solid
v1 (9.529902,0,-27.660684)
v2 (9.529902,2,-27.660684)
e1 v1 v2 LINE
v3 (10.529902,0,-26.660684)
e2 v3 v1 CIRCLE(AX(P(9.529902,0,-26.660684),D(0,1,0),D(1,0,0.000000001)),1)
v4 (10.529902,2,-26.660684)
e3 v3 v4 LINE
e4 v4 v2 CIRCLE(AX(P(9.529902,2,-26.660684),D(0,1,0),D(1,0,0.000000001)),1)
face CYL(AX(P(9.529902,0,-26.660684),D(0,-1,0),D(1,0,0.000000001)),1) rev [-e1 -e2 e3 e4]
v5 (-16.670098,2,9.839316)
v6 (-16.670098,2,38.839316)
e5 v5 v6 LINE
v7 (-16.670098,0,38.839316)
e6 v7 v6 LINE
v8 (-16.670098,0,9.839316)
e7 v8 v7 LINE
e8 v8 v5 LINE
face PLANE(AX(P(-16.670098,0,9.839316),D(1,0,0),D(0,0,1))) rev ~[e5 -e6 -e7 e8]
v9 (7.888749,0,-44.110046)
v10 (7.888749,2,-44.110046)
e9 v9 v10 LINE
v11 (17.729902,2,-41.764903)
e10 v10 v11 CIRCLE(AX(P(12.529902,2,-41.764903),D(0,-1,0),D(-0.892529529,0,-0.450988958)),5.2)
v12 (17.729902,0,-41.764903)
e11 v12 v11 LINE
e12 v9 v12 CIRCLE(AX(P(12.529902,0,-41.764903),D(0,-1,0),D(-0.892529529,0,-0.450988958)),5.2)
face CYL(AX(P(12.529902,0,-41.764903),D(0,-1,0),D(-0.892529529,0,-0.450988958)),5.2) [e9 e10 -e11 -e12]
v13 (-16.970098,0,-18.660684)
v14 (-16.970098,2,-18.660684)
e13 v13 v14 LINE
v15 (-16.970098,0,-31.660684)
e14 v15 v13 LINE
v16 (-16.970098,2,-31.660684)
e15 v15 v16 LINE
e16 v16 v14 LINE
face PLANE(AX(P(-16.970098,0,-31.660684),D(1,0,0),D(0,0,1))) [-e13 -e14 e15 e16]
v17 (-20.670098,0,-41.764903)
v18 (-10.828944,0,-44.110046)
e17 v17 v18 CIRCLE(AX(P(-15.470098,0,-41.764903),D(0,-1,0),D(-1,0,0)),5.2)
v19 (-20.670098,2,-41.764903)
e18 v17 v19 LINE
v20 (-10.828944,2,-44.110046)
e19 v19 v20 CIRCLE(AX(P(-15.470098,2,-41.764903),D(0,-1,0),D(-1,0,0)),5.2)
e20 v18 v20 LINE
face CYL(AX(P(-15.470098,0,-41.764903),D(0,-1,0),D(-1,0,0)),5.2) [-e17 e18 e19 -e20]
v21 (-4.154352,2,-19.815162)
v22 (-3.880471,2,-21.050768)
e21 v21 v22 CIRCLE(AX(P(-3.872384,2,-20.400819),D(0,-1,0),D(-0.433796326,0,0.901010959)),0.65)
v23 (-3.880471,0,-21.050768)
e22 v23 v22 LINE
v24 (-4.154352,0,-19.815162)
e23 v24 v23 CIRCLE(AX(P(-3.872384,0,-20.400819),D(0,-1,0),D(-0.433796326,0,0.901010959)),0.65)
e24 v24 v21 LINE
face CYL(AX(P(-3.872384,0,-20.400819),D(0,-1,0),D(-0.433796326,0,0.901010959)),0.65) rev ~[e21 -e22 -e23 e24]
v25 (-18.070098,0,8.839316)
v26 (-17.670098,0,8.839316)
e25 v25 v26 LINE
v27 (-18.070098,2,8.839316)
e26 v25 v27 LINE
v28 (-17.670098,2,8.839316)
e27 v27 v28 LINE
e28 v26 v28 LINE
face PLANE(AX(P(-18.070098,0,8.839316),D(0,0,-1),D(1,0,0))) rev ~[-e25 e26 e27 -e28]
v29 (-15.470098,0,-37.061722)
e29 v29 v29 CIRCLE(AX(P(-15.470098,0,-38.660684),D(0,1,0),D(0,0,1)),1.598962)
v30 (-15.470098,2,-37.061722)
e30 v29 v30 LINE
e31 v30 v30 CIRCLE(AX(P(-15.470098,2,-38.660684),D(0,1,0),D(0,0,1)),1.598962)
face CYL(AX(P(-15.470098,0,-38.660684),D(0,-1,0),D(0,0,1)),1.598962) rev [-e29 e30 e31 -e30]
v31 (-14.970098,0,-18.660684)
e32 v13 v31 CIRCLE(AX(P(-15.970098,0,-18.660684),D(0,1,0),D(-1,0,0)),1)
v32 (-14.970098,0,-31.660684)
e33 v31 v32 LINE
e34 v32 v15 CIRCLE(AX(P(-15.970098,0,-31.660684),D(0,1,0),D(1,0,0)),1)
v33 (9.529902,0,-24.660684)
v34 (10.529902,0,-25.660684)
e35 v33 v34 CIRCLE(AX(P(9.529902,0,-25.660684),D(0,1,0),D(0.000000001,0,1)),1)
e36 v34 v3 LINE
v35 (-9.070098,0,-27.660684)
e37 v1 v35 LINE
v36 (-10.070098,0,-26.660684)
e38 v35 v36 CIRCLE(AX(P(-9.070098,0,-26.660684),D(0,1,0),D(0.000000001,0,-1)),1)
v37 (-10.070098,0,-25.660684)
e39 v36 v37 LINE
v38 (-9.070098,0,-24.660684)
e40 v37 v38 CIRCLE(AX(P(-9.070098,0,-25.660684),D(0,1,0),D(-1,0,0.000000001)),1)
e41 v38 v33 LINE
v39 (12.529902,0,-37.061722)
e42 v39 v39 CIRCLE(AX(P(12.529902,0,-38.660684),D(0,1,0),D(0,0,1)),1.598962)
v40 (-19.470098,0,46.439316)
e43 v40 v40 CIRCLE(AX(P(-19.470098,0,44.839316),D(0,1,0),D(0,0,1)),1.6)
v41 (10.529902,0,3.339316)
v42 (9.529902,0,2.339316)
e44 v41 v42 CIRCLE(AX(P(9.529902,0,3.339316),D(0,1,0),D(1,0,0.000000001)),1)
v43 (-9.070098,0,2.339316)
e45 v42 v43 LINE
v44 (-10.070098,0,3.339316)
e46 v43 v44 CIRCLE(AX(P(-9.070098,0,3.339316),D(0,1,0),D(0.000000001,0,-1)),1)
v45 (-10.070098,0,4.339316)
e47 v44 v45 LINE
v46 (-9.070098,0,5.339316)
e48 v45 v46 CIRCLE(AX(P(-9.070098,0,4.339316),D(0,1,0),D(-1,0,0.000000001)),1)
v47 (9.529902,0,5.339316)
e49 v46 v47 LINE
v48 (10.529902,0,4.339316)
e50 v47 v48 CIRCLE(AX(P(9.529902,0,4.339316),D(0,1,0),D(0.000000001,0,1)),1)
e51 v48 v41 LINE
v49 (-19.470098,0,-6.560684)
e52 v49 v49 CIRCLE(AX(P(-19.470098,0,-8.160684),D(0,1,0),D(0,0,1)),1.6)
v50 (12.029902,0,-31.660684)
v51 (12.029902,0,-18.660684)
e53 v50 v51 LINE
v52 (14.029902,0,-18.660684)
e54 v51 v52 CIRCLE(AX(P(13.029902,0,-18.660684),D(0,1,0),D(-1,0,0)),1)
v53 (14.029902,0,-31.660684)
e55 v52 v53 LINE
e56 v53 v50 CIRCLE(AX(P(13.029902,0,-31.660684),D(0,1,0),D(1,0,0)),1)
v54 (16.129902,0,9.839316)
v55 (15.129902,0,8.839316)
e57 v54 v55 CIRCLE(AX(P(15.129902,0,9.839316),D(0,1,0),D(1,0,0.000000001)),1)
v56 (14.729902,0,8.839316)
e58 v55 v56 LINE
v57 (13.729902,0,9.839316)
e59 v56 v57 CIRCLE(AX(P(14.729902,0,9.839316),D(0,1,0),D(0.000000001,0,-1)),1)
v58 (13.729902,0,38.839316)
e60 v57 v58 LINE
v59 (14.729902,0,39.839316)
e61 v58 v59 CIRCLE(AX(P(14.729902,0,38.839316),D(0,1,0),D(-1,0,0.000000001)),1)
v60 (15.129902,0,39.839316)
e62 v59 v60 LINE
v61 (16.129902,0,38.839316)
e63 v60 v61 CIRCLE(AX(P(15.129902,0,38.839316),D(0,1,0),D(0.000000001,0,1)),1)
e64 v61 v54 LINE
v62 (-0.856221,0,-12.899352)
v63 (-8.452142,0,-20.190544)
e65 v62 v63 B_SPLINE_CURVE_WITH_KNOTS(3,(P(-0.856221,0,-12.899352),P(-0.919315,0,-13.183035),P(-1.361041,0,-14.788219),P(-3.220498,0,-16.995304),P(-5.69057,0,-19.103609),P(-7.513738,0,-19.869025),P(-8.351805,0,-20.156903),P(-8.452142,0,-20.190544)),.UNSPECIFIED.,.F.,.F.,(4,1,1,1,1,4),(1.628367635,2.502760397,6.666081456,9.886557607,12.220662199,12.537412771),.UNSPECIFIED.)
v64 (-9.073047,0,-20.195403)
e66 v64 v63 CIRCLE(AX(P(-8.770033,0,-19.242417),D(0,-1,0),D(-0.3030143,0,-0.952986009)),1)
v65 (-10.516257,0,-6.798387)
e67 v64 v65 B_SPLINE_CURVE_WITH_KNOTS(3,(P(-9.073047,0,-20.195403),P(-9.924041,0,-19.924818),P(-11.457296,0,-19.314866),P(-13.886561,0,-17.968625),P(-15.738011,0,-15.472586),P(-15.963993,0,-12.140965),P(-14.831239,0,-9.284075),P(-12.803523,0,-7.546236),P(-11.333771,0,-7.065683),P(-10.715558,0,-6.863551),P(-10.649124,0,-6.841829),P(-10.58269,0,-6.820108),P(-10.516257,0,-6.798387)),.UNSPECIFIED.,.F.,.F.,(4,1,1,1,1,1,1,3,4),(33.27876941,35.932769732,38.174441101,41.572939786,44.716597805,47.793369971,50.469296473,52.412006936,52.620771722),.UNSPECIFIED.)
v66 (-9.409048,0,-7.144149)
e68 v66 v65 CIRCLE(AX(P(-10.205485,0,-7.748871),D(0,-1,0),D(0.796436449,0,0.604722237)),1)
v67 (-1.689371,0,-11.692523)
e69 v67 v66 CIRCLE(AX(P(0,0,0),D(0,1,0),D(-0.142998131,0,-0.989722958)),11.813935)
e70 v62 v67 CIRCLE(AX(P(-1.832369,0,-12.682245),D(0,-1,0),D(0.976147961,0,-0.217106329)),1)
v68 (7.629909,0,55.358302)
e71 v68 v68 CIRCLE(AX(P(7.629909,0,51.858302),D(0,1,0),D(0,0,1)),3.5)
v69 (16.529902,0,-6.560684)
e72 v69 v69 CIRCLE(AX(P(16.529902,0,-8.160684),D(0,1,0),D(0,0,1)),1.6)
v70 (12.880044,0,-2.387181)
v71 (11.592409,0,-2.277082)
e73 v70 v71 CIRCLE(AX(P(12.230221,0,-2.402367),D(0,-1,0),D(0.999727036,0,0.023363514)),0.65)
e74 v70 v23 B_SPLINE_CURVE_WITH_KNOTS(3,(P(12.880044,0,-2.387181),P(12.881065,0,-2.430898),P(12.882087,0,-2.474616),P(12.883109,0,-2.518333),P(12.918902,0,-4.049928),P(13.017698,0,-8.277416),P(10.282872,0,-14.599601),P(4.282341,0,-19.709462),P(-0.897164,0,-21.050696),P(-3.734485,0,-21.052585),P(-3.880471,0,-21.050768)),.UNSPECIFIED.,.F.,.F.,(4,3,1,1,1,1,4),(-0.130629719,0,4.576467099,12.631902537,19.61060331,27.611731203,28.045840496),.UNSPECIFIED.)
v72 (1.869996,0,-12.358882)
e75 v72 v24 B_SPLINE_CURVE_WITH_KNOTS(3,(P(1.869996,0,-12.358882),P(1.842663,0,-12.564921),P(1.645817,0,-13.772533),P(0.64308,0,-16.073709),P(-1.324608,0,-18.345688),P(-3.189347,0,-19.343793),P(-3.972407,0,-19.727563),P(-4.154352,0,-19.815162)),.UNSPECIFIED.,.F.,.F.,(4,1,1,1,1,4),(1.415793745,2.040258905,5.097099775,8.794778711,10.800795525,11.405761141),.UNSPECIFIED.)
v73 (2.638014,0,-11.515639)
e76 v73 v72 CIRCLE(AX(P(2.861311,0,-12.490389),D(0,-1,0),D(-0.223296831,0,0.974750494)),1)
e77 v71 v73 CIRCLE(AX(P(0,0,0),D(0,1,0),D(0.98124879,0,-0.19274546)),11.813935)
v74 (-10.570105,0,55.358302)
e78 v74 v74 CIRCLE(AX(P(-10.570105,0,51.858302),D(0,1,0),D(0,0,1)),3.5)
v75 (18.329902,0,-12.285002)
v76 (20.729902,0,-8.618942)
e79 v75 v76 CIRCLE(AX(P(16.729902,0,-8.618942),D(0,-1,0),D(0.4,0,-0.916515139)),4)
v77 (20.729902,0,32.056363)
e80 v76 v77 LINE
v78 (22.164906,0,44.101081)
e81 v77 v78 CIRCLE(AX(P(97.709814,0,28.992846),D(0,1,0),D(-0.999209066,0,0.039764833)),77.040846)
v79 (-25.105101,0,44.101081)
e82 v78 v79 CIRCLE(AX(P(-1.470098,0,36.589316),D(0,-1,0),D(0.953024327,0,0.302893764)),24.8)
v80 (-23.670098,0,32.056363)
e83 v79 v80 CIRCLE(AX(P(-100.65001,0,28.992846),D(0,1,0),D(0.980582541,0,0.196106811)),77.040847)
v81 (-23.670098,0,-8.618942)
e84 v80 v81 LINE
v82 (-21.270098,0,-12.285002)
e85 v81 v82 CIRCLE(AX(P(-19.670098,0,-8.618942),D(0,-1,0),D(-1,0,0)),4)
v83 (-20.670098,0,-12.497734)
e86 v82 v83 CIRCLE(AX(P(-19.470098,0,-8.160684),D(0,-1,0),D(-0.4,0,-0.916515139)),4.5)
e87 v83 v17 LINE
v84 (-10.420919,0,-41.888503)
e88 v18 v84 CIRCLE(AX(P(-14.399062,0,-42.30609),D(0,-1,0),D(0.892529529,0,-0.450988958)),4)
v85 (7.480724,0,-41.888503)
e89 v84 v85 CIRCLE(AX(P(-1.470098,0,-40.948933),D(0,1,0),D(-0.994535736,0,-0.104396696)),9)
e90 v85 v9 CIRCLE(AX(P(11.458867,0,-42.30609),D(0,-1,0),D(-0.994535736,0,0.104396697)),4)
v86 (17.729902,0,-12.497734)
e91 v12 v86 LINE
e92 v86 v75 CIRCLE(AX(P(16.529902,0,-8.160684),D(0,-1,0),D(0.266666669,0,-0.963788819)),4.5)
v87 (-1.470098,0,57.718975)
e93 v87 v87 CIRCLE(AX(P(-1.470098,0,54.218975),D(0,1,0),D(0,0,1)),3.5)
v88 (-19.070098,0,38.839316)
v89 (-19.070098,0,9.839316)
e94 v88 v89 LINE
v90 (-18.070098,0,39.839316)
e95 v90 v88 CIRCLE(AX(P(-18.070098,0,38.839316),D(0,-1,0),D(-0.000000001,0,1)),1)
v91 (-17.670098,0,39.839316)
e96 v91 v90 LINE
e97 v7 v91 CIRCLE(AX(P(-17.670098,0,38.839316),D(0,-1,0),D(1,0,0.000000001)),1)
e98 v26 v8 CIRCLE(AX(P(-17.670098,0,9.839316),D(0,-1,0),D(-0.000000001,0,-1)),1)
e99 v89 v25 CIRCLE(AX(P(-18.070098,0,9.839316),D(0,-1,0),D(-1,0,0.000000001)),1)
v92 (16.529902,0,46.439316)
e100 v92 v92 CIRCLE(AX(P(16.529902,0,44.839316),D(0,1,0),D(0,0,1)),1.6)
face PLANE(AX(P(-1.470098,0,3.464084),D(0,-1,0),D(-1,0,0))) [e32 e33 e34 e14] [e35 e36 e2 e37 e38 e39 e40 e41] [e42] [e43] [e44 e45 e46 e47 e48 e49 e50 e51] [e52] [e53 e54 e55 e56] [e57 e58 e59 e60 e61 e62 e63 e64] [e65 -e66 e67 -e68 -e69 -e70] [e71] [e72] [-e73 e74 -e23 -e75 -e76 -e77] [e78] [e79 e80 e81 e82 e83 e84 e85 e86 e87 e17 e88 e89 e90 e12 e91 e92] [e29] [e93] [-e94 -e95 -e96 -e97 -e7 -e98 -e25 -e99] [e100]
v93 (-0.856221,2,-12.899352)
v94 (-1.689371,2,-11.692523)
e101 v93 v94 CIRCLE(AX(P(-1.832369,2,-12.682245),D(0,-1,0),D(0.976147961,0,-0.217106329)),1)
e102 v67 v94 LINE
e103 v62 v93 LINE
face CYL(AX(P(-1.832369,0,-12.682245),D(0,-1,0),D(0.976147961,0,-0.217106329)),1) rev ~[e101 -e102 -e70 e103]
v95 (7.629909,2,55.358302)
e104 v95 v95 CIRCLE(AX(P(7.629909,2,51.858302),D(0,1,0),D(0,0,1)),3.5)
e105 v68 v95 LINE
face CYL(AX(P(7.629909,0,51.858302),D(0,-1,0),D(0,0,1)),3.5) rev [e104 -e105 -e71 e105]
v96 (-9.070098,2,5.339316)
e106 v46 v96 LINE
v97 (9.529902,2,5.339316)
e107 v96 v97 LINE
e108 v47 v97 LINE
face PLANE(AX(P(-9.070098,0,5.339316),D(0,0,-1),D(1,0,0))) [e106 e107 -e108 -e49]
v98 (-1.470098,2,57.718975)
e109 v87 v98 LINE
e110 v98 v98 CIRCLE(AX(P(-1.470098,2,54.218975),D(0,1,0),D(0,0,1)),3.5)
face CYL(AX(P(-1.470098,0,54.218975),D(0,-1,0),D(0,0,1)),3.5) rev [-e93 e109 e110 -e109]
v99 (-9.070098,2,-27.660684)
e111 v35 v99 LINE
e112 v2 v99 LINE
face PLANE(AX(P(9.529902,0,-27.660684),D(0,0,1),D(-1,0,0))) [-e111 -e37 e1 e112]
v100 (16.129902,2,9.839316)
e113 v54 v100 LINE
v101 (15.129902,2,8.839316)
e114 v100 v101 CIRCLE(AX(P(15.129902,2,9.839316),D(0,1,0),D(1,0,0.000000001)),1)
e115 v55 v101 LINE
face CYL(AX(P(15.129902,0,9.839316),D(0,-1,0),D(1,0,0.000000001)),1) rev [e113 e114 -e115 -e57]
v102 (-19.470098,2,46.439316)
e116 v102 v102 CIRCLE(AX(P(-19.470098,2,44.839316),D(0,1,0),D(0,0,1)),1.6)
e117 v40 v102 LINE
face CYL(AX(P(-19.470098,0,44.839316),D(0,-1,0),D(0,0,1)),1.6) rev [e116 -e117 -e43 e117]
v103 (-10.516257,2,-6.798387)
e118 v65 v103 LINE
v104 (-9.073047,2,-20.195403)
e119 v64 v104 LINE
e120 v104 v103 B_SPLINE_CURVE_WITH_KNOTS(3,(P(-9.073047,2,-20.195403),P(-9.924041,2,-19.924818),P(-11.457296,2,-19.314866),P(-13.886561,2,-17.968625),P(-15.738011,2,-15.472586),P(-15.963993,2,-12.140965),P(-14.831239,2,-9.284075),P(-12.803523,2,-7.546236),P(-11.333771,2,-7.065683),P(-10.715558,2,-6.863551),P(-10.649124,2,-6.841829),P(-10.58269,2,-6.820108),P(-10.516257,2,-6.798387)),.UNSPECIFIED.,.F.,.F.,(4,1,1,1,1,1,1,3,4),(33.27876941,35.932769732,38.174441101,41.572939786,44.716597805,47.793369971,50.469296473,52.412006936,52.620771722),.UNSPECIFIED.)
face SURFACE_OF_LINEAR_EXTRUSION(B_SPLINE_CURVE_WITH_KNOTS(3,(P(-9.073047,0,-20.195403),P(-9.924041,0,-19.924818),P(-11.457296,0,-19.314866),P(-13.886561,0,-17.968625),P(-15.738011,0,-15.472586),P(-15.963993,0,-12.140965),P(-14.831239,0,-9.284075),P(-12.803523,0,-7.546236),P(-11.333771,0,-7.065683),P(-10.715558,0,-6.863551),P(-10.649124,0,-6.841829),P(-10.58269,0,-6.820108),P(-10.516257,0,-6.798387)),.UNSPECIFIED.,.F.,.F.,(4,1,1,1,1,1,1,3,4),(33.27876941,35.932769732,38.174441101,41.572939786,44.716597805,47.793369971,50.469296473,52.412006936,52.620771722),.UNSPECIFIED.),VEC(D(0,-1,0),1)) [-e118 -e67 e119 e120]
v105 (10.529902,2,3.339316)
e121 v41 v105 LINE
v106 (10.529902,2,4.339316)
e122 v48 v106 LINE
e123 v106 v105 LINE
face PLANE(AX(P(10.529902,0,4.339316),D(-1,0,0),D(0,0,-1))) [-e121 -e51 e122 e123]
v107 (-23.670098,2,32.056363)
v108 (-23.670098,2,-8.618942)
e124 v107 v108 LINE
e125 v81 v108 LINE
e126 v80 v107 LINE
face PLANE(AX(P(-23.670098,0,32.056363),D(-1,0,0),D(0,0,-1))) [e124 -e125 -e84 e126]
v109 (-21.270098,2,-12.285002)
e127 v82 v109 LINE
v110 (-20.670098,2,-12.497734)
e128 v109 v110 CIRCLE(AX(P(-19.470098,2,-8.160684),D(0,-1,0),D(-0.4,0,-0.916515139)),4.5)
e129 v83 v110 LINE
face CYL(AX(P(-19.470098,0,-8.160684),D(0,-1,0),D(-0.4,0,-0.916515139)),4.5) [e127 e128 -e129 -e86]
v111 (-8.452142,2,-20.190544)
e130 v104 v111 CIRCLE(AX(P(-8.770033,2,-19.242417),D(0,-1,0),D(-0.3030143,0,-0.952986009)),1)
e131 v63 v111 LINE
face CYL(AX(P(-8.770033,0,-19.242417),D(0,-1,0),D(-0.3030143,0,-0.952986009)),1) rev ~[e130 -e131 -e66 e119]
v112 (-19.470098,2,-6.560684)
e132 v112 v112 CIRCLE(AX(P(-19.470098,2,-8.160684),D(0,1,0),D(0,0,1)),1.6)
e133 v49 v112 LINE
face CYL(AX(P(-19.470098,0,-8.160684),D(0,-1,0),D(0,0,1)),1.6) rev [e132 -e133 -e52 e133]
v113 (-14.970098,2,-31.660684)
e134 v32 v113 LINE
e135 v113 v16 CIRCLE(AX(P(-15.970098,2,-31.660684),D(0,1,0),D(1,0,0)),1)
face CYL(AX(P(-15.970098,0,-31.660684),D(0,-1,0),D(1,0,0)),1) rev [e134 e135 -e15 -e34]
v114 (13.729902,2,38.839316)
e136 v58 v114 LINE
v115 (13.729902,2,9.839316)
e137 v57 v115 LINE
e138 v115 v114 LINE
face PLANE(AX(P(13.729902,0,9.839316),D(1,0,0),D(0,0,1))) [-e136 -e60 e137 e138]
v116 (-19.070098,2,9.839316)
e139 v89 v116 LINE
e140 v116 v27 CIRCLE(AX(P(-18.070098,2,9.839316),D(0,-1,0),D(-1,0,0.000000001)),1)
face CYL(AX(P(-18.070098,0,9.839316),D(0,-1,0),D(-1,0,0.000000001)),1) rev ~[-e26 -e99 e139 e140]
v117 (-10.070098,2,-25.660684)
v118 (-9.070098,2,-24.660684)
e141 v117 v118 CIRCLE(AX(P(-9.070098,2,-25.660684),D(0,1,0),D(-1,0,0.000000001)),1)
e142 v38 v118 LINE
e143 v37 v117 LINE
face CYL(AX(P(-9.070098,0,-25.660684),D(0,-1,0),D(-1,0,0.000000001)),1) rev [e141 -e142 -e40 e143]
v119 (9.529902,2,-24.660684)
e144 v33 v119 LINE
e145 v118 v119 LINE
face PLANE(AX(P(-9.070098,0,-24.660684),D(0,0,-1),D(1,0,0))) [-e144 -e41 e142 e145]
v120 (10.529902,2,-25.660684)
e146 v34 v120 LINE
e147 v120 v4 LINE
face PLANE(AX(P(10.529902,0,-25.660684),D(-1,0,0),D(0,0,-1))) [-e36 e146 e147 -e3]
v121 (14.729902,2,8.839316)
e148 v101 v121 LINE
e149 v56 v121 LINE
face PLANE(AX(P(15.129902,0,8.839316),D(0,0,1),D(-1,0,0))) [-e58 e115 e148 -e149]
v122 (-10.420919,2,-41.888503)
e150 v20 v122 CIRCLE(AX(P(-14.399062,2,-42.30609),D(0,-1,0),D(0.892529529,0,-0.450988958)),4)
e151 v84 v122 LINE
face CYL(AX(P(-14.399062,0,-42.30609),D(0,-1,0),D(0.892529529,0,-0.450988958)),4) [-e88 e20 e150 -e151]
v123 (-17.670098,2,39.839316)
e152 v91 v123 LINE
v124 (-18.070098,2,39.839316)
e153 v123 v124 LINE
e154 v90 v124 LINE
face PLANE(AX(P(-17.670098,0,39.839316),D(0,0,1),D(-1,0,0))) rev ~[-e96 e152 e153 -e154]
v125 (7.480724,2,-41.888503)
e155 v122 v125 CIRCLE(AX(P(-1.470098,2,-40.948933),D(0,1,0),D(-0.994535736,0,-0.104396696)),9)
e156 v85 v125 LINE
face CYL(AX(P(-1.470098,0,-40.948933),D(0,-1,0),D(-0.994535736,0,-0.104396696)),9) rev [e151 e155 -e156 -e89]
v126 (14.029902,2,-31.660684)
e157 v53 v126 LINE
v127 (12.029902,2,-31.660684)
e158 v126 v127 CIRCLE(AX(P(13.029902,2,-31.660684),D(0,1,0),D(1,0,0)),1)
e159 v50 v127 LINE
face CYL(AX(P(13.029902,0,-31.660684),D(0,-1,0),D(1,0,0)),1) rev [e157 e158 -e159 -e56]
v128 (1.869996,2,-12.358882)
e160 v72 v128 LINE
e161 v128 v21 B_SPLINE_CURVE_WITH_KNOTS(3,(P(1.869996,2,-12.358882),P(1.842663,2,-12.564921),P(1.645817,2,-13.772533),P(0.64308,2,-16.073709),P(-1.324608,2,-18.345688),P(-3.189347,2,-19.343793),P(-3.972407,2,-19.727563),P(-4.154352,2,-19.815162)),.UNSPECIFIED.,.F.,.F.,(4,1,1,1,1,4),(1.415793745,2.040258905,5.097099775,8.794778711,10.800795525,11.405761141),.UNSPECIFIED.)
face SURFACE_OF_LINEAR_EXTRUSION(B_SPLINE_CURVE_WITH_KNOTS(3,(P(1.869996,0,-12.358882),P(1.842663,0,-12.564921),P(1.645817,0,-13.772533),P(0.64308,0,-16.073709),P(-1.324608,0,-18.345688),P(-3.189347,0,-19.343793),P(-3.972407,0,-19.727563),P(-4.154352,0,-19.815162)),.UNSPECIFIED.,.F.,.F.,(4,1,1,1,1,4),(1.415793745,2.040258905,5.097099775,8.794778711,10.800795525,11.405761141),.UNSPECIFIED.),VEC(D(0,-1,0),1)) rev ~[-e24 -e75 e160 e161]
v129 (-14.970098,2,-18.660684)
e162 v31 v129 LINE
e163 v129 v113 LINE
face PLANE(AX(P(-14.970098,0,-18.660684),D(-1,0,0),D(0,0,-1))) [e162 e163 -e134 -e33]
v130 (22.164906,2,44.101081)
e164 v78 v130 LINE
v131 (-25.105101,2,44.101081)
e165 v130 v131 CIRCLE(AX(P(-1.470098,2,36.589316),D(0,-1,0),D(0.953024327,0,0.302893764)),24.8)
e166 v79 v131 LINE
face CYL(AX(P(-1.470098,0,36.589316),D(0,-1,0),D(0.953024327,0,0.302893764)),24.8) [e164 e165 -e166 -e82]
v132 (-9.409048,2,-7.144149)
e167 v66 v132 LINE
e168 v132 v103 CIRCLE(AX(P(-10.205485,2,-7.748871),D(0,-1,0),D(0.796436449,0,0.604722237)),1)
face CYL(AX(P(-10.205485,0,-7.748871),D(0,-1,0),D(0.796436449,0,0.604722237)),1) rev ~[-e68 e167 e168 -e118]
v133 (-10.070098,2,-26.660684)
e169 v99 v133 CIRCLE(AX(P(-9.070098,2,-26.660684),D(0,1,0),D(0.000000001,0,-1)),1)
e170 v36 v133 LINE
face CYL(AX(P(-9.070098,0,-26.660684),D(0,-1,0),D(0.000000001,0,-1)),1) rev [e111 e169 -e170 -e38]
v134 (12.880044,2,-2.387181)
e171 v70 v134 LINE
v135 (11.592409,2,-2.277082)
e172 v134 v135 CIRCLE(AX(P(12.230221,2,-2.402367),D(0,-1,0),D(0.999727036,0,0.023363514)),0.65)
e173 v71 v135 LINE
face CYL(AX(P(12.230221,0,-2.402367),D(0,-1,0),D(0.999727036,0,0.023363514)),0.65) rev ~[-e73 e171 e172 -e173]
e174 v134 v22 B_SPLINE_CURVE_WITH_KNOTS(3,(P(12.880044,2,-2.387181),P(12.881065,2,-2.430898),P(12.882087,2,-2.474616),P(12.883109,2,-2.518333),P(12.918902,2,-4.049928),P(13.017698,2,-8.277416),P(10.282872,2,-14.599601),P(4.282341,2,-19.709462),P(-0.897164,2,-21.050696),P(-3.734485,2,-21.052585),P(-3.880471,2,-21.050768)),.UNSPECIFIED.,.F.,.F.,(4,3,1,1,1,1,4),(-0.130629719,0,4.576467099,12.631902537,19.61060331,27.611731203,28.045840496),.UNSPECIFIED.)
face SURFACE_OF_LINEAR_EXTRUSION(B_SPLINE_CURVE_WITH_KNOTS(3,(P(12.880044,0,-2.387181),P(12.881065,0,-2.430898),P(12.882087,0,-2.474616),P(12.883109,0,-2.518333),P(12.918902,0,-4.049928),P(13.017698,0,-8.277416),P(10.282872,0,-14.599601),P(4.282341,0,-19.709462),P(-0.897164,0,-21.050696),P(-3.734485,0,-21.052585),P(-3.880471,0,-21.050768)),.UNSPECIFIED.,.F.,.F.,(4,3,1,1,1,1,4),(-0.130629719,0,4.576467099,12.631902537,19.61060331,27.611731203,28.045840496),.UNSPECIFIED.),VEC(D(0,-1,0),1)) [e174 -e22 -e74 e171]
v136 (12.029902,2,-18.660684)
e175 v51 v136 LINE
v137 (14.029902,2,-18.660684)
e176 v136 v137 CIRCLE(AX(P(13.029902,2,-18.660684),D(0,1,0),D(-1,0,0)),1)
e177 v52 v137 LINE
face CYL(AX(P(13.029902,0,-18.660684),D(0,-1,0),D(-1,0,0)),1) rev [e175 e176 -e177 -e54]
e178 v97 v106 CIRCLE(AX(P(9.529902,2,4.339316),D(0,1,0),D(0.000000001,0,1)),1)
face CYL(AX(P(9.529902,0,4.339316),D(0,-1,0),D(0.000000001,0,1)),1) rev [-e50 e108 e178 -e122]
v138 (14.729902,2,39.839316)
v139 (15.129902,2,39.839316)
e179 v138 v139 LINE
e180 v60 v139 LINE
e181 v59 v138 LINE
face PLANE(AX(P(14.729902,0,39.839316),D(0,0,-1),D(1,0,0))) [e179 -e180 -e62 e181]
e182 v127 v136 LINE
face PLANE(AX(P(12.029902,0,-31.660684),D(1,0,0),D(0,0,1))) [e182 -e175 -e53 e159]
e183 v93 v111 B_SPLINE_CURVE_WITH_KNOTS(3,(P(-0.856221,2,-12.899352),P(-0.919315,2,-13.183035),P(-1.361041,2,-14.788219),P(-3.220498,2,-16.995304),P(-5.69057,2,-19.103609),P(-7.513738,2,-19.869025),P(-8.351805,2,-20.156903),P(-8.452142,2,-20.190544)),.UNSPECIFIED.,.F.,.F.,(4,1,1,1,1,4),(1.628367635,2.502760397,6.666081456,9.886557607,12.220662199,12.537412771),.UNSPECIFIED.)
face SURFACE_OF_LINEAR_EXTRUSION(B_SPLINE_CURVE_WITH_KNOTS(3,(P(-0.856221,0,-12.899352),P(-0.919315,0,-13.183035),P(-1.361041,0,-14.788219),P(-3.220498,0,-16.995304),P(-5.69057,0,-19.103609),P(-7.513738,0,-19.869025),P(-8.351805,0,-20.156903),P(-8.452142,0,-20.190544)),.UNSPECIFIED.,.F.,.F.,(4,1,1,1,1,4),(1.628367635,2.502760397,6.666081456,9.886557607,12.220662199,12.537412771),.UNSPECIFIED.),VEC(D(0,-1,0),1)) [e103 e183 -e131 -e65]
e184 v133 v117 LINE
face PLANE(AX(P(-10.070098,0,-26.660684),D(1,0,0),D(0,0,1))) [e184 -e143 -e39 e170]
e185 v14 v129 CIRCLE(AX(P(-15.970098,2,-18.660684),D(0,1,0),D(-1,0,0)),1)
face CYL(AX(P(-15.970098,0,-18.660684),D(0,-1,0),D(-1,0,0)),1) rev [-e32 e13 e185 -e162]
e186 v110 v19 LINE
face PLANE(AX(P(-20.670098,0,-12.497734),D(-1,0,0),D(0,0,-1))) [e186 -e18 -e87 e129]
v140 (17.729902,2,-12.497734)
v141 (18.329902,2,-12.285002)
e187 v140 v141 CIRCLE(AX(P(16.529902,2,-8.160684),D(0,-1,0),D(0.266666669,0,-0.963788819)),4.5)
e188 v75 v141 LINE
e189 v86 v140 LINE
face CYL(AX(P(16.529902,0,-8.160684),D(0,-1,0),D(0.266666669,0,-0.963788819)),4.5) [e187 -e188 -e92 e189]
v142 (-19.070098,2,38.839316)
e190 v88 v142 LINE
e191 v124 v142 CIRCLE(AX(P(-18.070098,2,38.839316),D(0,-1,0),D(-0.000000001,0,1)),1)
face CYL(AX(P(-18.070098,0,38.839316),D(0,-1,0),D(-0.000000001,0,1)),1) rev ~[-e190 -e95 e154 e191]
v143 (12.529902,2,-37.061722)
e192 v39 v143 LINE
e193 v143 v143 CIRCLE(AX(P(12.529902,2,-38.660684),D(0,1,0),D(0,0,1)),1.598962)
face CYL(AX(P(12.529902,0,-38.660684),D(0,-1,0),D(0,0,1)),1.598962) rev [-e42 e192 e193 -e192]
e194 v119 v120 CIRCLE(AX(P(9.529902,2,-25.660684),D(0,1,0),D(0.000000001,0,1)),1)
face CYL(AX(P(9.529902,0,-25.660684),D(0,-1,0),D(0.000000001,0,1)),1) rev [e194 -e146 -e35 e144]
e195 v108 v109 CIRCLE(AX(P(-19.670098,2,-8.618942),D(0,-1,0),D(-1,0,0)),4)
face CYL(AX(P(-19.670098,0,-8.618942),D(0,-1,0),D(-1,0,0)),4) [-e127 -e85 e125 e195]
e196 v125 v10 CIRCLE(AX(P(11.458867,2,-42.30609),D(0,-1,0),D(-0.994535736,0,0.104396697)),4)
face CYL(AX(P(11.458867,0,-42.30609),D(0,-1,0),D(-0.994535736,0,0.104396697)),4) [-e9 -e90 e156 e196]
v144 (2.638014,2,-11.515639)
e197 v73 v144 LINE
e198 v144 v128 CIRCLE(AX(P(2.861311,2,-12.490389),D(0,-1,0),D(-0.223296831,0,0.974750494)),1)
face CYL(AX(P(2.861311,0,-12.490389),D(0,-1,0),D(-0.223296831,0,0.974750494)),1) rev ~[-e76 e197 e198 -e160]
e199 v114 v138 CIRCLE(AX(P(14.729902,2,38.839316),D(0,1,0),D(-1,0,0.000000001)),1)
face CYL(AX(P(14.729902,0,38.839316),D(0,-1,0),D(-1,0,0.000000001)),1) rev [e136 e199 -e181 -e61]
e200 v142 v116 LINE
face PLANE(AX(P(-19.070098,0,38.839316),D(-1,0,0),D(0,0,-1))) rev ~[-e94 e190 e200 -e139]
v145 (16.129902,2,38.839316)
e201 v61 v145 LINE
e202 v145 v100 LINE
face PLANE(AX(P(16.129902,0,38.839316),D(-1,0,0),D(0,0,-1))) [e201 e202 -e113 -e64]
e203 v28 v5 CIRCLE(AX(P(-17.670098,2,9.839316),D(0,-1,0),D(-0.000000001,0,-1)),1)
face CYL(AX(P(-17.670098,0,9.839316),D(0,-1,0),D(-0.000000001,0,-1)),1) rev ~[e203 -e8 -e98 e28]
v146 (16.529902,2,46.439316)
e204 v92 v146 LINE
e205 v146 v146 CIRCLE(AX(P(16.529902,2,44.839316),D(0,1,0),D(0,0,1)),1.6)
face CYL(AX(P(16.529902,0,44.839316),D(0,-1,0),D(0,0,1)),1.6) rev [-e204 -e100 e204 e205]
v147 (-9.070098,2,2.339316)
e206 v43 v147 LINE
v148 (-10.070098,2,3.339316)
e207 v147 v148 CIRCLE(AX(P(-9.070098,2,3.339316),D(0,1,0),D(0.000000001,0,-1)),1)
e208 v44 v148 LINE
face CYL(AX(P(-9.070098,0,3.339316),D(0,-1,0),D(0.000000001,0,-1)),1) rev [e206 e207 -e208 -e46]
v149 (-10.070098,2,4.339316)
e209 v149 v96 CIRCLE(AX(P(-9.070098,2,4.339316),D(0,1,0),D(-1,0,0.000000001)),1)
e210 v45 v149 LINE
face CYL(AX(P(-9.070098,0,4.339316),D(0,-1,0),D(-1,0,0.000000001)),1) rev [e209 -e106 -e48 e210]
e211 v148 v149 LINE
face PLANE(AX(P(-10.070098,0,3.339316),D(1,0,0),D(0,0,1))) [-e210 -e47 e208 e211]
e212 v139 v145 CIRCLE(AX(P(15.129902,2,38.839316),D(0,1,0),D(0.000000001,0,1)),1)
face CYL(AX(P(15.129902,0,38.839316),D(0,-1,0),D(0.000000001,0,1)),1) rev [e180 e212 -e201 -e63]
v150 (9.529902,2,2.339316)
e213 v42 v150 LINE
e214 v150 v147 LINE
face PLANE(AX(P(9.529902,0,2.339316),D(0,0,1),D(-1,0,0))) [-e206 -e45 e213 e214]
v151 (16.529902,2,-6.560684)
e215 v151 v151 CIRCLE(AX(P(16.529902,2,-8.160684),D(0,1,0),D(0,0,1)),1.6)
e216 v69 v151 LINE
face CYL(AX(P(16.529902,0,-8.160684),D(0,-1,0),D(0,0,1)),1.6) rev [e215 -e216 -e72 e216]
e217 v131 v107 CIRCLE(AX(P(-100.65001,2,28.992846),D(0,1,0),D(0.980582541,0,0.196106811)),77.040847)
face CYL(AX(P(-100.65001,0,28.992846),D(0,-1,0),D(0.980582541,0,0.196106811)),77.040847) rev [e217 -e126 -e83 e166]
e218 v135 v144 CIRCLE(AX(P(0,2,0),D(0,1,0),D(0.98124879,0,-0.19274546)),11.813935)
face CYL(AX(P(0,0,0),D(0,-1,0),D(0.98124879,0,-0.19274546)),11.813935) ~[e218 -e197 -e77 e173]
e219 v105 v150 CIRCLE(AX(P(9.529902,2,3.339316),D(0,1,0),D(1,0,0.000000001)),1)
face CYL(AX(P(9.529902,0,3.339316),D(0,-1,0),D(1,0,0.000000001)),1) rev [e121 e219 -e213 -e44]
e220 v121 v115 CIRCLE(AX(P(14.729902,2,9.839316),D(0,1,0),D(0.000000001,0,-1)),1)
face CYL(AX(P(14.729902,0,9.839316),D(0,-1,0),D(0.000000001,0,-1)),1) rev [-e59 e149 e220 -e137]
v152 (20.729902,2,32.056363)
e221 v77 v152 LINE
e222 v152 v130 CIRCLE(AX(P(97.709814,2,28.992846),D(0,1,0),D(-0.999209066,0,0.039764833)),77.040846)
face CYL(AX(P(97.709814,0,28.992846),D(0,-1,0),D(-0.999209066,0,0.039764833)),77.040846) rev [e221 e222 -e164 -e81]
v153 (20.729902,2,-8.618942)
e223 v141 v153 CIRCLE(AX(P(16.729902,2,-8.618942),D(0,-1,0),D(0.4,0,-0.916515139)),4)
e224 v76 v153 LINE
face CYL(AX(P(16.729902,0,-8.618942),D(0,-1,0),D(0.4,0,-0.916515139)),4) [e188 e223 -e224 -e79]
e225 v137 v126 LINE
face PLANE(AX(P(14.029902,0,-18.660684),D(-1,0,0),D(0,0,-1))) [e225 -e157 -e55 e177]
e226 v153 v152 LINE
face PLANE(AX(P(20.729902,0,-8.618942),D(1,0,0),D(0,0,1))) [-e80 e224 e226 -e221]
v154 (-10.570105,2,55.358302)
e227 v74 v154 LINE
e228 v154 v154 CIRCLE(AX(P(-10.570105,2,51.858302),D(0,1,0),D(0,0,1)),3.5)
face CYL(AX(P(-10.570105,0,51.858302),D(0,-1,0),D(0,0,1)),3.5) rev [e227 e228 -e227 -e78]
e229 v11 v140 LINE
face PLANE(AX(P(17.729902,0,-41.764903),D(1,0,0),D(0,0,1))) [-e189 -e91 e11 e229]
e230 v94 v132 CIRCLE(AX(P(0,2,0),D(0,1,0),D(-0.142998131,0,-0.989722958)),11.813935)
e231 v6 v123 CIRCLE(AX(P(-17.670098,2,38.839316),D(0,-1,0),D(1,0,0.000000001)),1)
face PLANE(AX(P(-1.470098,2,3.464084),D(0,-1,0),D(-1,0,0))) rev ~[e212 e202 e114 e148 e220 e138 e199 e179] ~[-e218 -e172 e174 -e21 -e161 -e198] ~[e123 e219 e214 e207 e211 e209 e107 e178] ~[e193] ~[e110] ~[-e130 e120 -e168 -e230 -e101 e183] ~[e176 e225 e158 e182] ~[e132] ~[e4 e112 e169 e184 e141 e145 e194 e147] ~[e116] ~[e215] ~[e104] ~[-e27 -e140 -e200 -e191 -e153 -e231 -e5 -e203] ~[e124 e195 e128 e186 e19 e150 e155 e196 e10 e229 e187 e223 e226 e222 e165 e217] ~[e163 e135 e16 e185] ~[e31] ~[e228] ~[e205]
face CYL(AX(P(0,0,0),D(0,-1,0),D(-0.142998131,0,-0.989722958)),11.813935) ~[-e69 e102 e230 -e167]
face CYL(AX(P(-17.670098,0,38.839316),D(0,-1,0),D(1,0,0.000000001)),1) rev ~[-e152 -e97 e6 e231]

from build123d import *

# Parameters (mm, degrees)
SKETCH2_R           = 3.5
SKETCH2_R_2         = 1.6
SKETCH2_R_3         = 1.598962018
BOSS_EXTRUDE1_DEPTH = 2


with BuildPart() as part:
    # Sketch2 → Boss-Extrude1 (new body)
    with BuildSketch(Plane(origin=(0, 0, 0), x_dir=(1, 0, 0), z_dir=(0, 1, 0))):
        with BuildLine():
            Line((-23.670097795, -32.056362812), (-23.670097795, 8.618941775))
            ThreePointArc((-23.670097795, 8.618941775), (-23.016737901, 10.809832005), (-21.270097795, 12.285002331))
            ThreePointArc((-21.270097795, 12.285002331), (-20.973864293, 12.401991353), (-20.670097795, 12.497733894))
            Line((-20.670097795, 12.497733894), (-20.670097795, 41.764903086))
            ThreePointArc((-20.670097795, 41.764903086), (-16.675502611, 46.823262428), (-10.828944246, 44.110045668))
            ThreePointArc((-10.828944246, 44.110045668), (-10.464869413, 43.028672598), (-10.420919417, 41.88850305))
            ThreePointArc((-10.420919417, 41.88850305), (-1.470097795, 31.948932783), (7.480723827, 41.88850305))
            ThreePointArc((7.480723827, 41.88850305), (7.524673822, 43.028672598), (7.888748655, 44.110045668))
            ThreePointArc((7.888748655, 44.110045668), (13.735307021, 46.823262428), (17.729902205, 41.764903086))
            Line((17.729902205, 41.764903086), (17.729902205, 12.497733894))
            ThreePointArc((17.729902205, 12.497733894), (18.033668702, 12.401991353), (18.329902205, 12.285002331))
            ThreePointArc((18.329902205, 12.285002331), (20.076542311, 10.809832005), (20.729902205, 8.618941775))
            Line((20.729902205, 8.618941775), (20.729902205, -32.056362812))
            ThreePointArc((20.729902205, -32.056362812), (21.209983868, -38.107008106), (22.164905513, -44.10108114))
            ThreePointArc((22.164905513, -44.10108114), (-1.470097795, -61.389315795), (-25.105101104, -44.10108114))
            ThreePointArc((-25.105101104, -44.10108114), (-24.150179459, -38.107008106), (-23.670097795, -32.056362812))
        make_face()
        with Locations(Location((-1.470097795, -54.218974573, 0), (0, 0, 270))):
            Circle(SKETCH2_R, mode=Mode.SUBTRACT)
        with Locations(Location((7.629909443, -51.858302161, 0), (0, 0, 270))):
            Circle(SKETCH2_R, mode=Mode.SUBTRACT)
        with Locations(Location((-10.570105034, -51.858302161, 0), (0, 0, 270))):
            Circle(SKETCH2_R, mode=Mode.SUBTRACT)
        with Locations(Location((-19.470097795, -44.839315795, 0), (0, 0, 270))):
            Circle(SKETCH2_R_2, mode=Mode.SUBTRACT)
        with Locations(Location((16.529902205, -44.839315795, 0), (0, 0, 270))):
            Circle(SKETCH2_R_2, mode=Mode.SUBTRACT)
        with Locations(Location((-19.470097795, 8.160684205, 0), (0, 0, 270))):
            Circle(SKETCH2_R_2, mode=Mode.SUBTRACT)
        with Locations(Location((16.529902205, 8.160684205, 0), (0, 0, 270))):
            Circle(SKETCH2_R_2, mode=Mode.SUBTRACT)
        with Locations(Location((-15.470097795, 38.660684205, 0), (0, 0, 270))):
            Circle(SKETCH2_R_3, mode=Mode.SUBTRACT)
        with Locations(Location((12.529902205, 38.660684205, 0), (0, 0, 270))):
            Circle(SKETCH2_R_3, mode=Mode.SUBTRACT)
        with BuildLine():
            Line((-16.970097795, 31.660684205), (-16.970097795, 18.660684205))
            ThreePointArc((-16.970097795, 18.660684205), (-15.970097795, 17.660684205), (-14.970097795, 18.660684205))
            Line((-14.970097795, 18.660684205), (-14.970097795, 31.660684205))
            ThreePointArc((-14.970097795, 31.660684205), (-15.970097795, 32.660684205), (-16.970097795, 31.660684205))
        make_face(mode=Mode.SUBTRACT)
        with BuildLine():
            Line((12.029902205, 31.660684205), (12.029902205, 18.660684205))
            ThreePointArc((12.029902205, 18.660684205), (13.029902205, 17.660684205), (14.029902205, 18.660684205))
            Line((14.029902205, 18.660684205), (14.029902205, 31.660684205))
            ThreePointArc((14.029902205, 31.660684205), (13.029902205, 32.660684205), (12.029902205, 31.660684205))
        make_face(mode=Mode.SUBTRACT)
        with BuildLine():
            Line((13.729902205, -9.839315795), (13.729902205, -38.839315795))
            ThreePointArc((13.729902205, -38.839315795), (14.022795424, -39.546422576), (14.729902205, -39.839315795))
            Line((14.729902205, -39.839315795), (15.129902205, -39.839315795))
            ThreePointArc((15.129902205, -39.839315795), (15.837008986, -39.546422576), (16.129902205, -38.839315795))
            Line((16.129902205, -38.839315795), (16.129902205, -9.839315795))
            ThreePointArc((16.129902205, -9.839315795), (15.837008986, -9.132209013), (15.129902205, -8.839315795))
            Line((15.129902205, -8.839315795), (14.729902205, -8.839315795))
            ThreePointArc((14.729902205, -8.839315795), (14.022795424, -9.132209013), (13.729902205, -9.839315795))
        make_face(mode=Mode.SUBTRACT)
        with BuildLine():
            Line((-16.670097795, -9.839315795), (-16.670097795, -38.839315795))
            ThreePointArc((-16.670097795, -38.839315795), (-16.962991014, -39.546422576), (-17.670097795, -39.839315795))
            Line((-17.670097795, -39.839315795), (-18.070097795, -39.839315795))
            ThreePointArc((-18.070097795, -39.839315795), (-18.777204576, -39.546422576), (-19.070097795, -38.839315795))
            Line((-19.070097795, -38.839315795), (-19.070097795, -9.839315795))
            ThreePointArc((-19.070097795, -9.839315795), (-18.777204576, -9.132209013), (-18.070097795, -8.839315795))
            Line((-18.070097795, -8.839315795), (-17.670097795, -8.839315795))
            ThreePointArc((-17.670097795, -8.839315795), (-16.962991014, -9.132209013), (-16.670097795, -9.839315795))
        make_face(mode=Mode.SUBTRACT)
        with BuildLine():
            Line((-9.070097795, 24.660684205), (9.529902205, 24.660684205))
            ThreePointArc((9.529902205, 24.660684205), (10.237008986, 24.953577424), (10.529902205, 25.660684205))
            Line((10.529902205, 25.660684205), (10.529902205, 26.660684205))
            ThreePointArc((10.529902205, 26.660684205), (10.237008986, 27.367790987), (9.529902205, 27.660684205))
            Line((9.529902205, 27.660684205), (-9.070097795, 27.660684205))
            ThreePointArc((-9.070097795, 27.660684205), (-9.777204576, 27.367790987), (-10.070097795, 26.660684205))
            Line((-10.070097795, 26.660684205), (-10.070097795, 25.660684205))
            ThreePointArc((-10.070097795, 25.660684205), (-9.777204576, 24.953577424), (-9.070097795, 24.660684205))
        make_face(mode=Mode.SUBTRACT)
        with BuildLine():
            Line((-9.070097795, -5.339315795), (9.529902205, -5.339315795))
            ThreePointArc((9.529902205, -5.339315795), (10.237008986, -5.046422576), (10.529902205, -4.339315795))
            Line((10.529902205, -4.339315795), (10.529902205, -3.339315795))
            ThreePointArc((10.529902205, -3.339315795), (10.237008986, -2.632209013), (9.529902205, -2.339315795))
            Line((9.529902205, -2.339315795), (-9.070097795, -2.339315795))
            ThreePointArc((-9.070097795, -2.339315795), (-9.777204576, -2.632209013), (-10.070097795, -3.339315795))
            Line((-10.070097795, -3.339315795), (-10.070097795, -4.339315795))
            ThreePointArc((-10.070097795, -4.339315795), (-9.777204576, -5.046422576), (-9.070097795, -5.339315795))
        make_face(mode=Mode.SUBTRACT)
        with BuildLine():
            ThreePointArc((11.592409226, 2.277082303), (8.483157974, 8.222231222), (2.638014207, 11.51563878))
            ThreePointArc((2.638014207, 11.51563878), (2.121996842, 11.817028658), (1.869995807, 12.358882197))
            add(Edge.make_bspline(
                [(1.869995807, 12.358882197), (1.842662891, 12.564920807), (1.645816717, 13.772533118), (0.643080373, 16.073708791), (-1.324607952, 18.345688068), (-3.18934686, 19.343792608), (-3.972407265, 19.727563494), (-4.154351902, 19.815161669)],
                knots=[1.415793745, 1.415793745, 1.415793745, 1.415793745, 2.040258905, 5.097099775, 8.794778711, 10.800795525, 11.405761141, 11.405761141, 11.405761141, 11.405761141], degree=3))
            ThreePointArc((-4.154351902, 19.815161669), (-4.506981756, 20.541481709), (-3.880471106, 21.050768485))
            add(Edge.make_bspline(
                [(12.880043513, 2.387180569), (12.881065186, 2.430898093), (12.88208686, 2.474615617), (12.883108534, 2.518333141), (12.918901743, 4.049928037), (13.017697673, 8.277415536), (10.28287236, 14.599600939), (4.282341197, 19.709461541), (-0.897163555, 21.050696374), (-3.734485369, 21.052584871), (-3.880471106, 21.050768485)],
                knots=[-0.130629719, -0.130629719, -0.130629719, -0.130629719, 0, 0, 0, 4.576467099, 12.631902537, 19.61060331, 27.611731203, 28.045840496, 28.045840496, 28.045840496, 28.045840496], degree=3))
            ThreePointArc((12.880043513, 2.387180569), (12.285596676, 1.754729973), (11.592409226, 2.277082303))
        make_face(mode=Mode.SUBTRACT)
        with BuildLine():
            ThreePointArc((-1.689370597, 11.692522502), (-5.997136857, 10.178575784), (-9.409048266, 7.14414909))
            ThreePointArc((-9.409048266, 7.14414909), (-9.907398641, 6.794332332), (-10.516256933, 6.79838691))
            add(Edge.make_bspline(
                [(-9.073047111, 20.195403041), (-9.924041196, 19.924818402), (-11.457295922, 19.314866074), (-13.88656058, 17.968625132), (-15.738010724, 15.472586344), (-15.963993383, 12.140965148), (-14.831238886, 9.284075293), (-12.803522888, 7.546235802), (-11.333770861, 7.065682842), (-10.715557595, 6.86355064), (-10.649124041, 6.841829396), (-10.582690487, 6.820108153), (-10.516256933, 6.79838691)],
                knots=[33.27876941, 33.27876941, 33.27876941, 33.27876941, 35.932769732, 38.174441101, 41.572939786, 44.716597805, 47.793369971, 50.469296473, 52.412006936, 52.412006936, 52.412006936, 52.620771722, 52.620771722, 52.620771722, 52.620771722], degree=3))
            ThreePointArc((-9.073047111, 20.195403041), (-8.762207832, 20.242386416), (-8.452141885, 20.190544322))
            add(Edge.make_bspline(
                [(-0.856220767, 12.89935179), (-0.919315201, 13.18303538), (-1.361040524, 14.788219391), (-3.220498182, 16.995304302), (-5.690570357, 19.103609418), (-7.513737765, 19.869024907), (-8.35180533, 20.156903184), (-8.452141885, 20.190544322)],
                knots=[1.628367635, 1.628367635, 1.628367635, 1.628367635, 2.502760397, 6.666081456, 9.886557607, 12.220662199, 12.537412771, 12.537412771, 12.537412771, 12.537412771], degree=3))
            ThreePointArc((-0.856220767, 12.89935179), (-1.009428131, 12.114118033), (-1.689370597, 11.692522502))
        make_face(mode=Mode.SUBTRACT)
    extrude(amount=BOSS_EXTRUDE1_DEPTH)


solid = part.part
